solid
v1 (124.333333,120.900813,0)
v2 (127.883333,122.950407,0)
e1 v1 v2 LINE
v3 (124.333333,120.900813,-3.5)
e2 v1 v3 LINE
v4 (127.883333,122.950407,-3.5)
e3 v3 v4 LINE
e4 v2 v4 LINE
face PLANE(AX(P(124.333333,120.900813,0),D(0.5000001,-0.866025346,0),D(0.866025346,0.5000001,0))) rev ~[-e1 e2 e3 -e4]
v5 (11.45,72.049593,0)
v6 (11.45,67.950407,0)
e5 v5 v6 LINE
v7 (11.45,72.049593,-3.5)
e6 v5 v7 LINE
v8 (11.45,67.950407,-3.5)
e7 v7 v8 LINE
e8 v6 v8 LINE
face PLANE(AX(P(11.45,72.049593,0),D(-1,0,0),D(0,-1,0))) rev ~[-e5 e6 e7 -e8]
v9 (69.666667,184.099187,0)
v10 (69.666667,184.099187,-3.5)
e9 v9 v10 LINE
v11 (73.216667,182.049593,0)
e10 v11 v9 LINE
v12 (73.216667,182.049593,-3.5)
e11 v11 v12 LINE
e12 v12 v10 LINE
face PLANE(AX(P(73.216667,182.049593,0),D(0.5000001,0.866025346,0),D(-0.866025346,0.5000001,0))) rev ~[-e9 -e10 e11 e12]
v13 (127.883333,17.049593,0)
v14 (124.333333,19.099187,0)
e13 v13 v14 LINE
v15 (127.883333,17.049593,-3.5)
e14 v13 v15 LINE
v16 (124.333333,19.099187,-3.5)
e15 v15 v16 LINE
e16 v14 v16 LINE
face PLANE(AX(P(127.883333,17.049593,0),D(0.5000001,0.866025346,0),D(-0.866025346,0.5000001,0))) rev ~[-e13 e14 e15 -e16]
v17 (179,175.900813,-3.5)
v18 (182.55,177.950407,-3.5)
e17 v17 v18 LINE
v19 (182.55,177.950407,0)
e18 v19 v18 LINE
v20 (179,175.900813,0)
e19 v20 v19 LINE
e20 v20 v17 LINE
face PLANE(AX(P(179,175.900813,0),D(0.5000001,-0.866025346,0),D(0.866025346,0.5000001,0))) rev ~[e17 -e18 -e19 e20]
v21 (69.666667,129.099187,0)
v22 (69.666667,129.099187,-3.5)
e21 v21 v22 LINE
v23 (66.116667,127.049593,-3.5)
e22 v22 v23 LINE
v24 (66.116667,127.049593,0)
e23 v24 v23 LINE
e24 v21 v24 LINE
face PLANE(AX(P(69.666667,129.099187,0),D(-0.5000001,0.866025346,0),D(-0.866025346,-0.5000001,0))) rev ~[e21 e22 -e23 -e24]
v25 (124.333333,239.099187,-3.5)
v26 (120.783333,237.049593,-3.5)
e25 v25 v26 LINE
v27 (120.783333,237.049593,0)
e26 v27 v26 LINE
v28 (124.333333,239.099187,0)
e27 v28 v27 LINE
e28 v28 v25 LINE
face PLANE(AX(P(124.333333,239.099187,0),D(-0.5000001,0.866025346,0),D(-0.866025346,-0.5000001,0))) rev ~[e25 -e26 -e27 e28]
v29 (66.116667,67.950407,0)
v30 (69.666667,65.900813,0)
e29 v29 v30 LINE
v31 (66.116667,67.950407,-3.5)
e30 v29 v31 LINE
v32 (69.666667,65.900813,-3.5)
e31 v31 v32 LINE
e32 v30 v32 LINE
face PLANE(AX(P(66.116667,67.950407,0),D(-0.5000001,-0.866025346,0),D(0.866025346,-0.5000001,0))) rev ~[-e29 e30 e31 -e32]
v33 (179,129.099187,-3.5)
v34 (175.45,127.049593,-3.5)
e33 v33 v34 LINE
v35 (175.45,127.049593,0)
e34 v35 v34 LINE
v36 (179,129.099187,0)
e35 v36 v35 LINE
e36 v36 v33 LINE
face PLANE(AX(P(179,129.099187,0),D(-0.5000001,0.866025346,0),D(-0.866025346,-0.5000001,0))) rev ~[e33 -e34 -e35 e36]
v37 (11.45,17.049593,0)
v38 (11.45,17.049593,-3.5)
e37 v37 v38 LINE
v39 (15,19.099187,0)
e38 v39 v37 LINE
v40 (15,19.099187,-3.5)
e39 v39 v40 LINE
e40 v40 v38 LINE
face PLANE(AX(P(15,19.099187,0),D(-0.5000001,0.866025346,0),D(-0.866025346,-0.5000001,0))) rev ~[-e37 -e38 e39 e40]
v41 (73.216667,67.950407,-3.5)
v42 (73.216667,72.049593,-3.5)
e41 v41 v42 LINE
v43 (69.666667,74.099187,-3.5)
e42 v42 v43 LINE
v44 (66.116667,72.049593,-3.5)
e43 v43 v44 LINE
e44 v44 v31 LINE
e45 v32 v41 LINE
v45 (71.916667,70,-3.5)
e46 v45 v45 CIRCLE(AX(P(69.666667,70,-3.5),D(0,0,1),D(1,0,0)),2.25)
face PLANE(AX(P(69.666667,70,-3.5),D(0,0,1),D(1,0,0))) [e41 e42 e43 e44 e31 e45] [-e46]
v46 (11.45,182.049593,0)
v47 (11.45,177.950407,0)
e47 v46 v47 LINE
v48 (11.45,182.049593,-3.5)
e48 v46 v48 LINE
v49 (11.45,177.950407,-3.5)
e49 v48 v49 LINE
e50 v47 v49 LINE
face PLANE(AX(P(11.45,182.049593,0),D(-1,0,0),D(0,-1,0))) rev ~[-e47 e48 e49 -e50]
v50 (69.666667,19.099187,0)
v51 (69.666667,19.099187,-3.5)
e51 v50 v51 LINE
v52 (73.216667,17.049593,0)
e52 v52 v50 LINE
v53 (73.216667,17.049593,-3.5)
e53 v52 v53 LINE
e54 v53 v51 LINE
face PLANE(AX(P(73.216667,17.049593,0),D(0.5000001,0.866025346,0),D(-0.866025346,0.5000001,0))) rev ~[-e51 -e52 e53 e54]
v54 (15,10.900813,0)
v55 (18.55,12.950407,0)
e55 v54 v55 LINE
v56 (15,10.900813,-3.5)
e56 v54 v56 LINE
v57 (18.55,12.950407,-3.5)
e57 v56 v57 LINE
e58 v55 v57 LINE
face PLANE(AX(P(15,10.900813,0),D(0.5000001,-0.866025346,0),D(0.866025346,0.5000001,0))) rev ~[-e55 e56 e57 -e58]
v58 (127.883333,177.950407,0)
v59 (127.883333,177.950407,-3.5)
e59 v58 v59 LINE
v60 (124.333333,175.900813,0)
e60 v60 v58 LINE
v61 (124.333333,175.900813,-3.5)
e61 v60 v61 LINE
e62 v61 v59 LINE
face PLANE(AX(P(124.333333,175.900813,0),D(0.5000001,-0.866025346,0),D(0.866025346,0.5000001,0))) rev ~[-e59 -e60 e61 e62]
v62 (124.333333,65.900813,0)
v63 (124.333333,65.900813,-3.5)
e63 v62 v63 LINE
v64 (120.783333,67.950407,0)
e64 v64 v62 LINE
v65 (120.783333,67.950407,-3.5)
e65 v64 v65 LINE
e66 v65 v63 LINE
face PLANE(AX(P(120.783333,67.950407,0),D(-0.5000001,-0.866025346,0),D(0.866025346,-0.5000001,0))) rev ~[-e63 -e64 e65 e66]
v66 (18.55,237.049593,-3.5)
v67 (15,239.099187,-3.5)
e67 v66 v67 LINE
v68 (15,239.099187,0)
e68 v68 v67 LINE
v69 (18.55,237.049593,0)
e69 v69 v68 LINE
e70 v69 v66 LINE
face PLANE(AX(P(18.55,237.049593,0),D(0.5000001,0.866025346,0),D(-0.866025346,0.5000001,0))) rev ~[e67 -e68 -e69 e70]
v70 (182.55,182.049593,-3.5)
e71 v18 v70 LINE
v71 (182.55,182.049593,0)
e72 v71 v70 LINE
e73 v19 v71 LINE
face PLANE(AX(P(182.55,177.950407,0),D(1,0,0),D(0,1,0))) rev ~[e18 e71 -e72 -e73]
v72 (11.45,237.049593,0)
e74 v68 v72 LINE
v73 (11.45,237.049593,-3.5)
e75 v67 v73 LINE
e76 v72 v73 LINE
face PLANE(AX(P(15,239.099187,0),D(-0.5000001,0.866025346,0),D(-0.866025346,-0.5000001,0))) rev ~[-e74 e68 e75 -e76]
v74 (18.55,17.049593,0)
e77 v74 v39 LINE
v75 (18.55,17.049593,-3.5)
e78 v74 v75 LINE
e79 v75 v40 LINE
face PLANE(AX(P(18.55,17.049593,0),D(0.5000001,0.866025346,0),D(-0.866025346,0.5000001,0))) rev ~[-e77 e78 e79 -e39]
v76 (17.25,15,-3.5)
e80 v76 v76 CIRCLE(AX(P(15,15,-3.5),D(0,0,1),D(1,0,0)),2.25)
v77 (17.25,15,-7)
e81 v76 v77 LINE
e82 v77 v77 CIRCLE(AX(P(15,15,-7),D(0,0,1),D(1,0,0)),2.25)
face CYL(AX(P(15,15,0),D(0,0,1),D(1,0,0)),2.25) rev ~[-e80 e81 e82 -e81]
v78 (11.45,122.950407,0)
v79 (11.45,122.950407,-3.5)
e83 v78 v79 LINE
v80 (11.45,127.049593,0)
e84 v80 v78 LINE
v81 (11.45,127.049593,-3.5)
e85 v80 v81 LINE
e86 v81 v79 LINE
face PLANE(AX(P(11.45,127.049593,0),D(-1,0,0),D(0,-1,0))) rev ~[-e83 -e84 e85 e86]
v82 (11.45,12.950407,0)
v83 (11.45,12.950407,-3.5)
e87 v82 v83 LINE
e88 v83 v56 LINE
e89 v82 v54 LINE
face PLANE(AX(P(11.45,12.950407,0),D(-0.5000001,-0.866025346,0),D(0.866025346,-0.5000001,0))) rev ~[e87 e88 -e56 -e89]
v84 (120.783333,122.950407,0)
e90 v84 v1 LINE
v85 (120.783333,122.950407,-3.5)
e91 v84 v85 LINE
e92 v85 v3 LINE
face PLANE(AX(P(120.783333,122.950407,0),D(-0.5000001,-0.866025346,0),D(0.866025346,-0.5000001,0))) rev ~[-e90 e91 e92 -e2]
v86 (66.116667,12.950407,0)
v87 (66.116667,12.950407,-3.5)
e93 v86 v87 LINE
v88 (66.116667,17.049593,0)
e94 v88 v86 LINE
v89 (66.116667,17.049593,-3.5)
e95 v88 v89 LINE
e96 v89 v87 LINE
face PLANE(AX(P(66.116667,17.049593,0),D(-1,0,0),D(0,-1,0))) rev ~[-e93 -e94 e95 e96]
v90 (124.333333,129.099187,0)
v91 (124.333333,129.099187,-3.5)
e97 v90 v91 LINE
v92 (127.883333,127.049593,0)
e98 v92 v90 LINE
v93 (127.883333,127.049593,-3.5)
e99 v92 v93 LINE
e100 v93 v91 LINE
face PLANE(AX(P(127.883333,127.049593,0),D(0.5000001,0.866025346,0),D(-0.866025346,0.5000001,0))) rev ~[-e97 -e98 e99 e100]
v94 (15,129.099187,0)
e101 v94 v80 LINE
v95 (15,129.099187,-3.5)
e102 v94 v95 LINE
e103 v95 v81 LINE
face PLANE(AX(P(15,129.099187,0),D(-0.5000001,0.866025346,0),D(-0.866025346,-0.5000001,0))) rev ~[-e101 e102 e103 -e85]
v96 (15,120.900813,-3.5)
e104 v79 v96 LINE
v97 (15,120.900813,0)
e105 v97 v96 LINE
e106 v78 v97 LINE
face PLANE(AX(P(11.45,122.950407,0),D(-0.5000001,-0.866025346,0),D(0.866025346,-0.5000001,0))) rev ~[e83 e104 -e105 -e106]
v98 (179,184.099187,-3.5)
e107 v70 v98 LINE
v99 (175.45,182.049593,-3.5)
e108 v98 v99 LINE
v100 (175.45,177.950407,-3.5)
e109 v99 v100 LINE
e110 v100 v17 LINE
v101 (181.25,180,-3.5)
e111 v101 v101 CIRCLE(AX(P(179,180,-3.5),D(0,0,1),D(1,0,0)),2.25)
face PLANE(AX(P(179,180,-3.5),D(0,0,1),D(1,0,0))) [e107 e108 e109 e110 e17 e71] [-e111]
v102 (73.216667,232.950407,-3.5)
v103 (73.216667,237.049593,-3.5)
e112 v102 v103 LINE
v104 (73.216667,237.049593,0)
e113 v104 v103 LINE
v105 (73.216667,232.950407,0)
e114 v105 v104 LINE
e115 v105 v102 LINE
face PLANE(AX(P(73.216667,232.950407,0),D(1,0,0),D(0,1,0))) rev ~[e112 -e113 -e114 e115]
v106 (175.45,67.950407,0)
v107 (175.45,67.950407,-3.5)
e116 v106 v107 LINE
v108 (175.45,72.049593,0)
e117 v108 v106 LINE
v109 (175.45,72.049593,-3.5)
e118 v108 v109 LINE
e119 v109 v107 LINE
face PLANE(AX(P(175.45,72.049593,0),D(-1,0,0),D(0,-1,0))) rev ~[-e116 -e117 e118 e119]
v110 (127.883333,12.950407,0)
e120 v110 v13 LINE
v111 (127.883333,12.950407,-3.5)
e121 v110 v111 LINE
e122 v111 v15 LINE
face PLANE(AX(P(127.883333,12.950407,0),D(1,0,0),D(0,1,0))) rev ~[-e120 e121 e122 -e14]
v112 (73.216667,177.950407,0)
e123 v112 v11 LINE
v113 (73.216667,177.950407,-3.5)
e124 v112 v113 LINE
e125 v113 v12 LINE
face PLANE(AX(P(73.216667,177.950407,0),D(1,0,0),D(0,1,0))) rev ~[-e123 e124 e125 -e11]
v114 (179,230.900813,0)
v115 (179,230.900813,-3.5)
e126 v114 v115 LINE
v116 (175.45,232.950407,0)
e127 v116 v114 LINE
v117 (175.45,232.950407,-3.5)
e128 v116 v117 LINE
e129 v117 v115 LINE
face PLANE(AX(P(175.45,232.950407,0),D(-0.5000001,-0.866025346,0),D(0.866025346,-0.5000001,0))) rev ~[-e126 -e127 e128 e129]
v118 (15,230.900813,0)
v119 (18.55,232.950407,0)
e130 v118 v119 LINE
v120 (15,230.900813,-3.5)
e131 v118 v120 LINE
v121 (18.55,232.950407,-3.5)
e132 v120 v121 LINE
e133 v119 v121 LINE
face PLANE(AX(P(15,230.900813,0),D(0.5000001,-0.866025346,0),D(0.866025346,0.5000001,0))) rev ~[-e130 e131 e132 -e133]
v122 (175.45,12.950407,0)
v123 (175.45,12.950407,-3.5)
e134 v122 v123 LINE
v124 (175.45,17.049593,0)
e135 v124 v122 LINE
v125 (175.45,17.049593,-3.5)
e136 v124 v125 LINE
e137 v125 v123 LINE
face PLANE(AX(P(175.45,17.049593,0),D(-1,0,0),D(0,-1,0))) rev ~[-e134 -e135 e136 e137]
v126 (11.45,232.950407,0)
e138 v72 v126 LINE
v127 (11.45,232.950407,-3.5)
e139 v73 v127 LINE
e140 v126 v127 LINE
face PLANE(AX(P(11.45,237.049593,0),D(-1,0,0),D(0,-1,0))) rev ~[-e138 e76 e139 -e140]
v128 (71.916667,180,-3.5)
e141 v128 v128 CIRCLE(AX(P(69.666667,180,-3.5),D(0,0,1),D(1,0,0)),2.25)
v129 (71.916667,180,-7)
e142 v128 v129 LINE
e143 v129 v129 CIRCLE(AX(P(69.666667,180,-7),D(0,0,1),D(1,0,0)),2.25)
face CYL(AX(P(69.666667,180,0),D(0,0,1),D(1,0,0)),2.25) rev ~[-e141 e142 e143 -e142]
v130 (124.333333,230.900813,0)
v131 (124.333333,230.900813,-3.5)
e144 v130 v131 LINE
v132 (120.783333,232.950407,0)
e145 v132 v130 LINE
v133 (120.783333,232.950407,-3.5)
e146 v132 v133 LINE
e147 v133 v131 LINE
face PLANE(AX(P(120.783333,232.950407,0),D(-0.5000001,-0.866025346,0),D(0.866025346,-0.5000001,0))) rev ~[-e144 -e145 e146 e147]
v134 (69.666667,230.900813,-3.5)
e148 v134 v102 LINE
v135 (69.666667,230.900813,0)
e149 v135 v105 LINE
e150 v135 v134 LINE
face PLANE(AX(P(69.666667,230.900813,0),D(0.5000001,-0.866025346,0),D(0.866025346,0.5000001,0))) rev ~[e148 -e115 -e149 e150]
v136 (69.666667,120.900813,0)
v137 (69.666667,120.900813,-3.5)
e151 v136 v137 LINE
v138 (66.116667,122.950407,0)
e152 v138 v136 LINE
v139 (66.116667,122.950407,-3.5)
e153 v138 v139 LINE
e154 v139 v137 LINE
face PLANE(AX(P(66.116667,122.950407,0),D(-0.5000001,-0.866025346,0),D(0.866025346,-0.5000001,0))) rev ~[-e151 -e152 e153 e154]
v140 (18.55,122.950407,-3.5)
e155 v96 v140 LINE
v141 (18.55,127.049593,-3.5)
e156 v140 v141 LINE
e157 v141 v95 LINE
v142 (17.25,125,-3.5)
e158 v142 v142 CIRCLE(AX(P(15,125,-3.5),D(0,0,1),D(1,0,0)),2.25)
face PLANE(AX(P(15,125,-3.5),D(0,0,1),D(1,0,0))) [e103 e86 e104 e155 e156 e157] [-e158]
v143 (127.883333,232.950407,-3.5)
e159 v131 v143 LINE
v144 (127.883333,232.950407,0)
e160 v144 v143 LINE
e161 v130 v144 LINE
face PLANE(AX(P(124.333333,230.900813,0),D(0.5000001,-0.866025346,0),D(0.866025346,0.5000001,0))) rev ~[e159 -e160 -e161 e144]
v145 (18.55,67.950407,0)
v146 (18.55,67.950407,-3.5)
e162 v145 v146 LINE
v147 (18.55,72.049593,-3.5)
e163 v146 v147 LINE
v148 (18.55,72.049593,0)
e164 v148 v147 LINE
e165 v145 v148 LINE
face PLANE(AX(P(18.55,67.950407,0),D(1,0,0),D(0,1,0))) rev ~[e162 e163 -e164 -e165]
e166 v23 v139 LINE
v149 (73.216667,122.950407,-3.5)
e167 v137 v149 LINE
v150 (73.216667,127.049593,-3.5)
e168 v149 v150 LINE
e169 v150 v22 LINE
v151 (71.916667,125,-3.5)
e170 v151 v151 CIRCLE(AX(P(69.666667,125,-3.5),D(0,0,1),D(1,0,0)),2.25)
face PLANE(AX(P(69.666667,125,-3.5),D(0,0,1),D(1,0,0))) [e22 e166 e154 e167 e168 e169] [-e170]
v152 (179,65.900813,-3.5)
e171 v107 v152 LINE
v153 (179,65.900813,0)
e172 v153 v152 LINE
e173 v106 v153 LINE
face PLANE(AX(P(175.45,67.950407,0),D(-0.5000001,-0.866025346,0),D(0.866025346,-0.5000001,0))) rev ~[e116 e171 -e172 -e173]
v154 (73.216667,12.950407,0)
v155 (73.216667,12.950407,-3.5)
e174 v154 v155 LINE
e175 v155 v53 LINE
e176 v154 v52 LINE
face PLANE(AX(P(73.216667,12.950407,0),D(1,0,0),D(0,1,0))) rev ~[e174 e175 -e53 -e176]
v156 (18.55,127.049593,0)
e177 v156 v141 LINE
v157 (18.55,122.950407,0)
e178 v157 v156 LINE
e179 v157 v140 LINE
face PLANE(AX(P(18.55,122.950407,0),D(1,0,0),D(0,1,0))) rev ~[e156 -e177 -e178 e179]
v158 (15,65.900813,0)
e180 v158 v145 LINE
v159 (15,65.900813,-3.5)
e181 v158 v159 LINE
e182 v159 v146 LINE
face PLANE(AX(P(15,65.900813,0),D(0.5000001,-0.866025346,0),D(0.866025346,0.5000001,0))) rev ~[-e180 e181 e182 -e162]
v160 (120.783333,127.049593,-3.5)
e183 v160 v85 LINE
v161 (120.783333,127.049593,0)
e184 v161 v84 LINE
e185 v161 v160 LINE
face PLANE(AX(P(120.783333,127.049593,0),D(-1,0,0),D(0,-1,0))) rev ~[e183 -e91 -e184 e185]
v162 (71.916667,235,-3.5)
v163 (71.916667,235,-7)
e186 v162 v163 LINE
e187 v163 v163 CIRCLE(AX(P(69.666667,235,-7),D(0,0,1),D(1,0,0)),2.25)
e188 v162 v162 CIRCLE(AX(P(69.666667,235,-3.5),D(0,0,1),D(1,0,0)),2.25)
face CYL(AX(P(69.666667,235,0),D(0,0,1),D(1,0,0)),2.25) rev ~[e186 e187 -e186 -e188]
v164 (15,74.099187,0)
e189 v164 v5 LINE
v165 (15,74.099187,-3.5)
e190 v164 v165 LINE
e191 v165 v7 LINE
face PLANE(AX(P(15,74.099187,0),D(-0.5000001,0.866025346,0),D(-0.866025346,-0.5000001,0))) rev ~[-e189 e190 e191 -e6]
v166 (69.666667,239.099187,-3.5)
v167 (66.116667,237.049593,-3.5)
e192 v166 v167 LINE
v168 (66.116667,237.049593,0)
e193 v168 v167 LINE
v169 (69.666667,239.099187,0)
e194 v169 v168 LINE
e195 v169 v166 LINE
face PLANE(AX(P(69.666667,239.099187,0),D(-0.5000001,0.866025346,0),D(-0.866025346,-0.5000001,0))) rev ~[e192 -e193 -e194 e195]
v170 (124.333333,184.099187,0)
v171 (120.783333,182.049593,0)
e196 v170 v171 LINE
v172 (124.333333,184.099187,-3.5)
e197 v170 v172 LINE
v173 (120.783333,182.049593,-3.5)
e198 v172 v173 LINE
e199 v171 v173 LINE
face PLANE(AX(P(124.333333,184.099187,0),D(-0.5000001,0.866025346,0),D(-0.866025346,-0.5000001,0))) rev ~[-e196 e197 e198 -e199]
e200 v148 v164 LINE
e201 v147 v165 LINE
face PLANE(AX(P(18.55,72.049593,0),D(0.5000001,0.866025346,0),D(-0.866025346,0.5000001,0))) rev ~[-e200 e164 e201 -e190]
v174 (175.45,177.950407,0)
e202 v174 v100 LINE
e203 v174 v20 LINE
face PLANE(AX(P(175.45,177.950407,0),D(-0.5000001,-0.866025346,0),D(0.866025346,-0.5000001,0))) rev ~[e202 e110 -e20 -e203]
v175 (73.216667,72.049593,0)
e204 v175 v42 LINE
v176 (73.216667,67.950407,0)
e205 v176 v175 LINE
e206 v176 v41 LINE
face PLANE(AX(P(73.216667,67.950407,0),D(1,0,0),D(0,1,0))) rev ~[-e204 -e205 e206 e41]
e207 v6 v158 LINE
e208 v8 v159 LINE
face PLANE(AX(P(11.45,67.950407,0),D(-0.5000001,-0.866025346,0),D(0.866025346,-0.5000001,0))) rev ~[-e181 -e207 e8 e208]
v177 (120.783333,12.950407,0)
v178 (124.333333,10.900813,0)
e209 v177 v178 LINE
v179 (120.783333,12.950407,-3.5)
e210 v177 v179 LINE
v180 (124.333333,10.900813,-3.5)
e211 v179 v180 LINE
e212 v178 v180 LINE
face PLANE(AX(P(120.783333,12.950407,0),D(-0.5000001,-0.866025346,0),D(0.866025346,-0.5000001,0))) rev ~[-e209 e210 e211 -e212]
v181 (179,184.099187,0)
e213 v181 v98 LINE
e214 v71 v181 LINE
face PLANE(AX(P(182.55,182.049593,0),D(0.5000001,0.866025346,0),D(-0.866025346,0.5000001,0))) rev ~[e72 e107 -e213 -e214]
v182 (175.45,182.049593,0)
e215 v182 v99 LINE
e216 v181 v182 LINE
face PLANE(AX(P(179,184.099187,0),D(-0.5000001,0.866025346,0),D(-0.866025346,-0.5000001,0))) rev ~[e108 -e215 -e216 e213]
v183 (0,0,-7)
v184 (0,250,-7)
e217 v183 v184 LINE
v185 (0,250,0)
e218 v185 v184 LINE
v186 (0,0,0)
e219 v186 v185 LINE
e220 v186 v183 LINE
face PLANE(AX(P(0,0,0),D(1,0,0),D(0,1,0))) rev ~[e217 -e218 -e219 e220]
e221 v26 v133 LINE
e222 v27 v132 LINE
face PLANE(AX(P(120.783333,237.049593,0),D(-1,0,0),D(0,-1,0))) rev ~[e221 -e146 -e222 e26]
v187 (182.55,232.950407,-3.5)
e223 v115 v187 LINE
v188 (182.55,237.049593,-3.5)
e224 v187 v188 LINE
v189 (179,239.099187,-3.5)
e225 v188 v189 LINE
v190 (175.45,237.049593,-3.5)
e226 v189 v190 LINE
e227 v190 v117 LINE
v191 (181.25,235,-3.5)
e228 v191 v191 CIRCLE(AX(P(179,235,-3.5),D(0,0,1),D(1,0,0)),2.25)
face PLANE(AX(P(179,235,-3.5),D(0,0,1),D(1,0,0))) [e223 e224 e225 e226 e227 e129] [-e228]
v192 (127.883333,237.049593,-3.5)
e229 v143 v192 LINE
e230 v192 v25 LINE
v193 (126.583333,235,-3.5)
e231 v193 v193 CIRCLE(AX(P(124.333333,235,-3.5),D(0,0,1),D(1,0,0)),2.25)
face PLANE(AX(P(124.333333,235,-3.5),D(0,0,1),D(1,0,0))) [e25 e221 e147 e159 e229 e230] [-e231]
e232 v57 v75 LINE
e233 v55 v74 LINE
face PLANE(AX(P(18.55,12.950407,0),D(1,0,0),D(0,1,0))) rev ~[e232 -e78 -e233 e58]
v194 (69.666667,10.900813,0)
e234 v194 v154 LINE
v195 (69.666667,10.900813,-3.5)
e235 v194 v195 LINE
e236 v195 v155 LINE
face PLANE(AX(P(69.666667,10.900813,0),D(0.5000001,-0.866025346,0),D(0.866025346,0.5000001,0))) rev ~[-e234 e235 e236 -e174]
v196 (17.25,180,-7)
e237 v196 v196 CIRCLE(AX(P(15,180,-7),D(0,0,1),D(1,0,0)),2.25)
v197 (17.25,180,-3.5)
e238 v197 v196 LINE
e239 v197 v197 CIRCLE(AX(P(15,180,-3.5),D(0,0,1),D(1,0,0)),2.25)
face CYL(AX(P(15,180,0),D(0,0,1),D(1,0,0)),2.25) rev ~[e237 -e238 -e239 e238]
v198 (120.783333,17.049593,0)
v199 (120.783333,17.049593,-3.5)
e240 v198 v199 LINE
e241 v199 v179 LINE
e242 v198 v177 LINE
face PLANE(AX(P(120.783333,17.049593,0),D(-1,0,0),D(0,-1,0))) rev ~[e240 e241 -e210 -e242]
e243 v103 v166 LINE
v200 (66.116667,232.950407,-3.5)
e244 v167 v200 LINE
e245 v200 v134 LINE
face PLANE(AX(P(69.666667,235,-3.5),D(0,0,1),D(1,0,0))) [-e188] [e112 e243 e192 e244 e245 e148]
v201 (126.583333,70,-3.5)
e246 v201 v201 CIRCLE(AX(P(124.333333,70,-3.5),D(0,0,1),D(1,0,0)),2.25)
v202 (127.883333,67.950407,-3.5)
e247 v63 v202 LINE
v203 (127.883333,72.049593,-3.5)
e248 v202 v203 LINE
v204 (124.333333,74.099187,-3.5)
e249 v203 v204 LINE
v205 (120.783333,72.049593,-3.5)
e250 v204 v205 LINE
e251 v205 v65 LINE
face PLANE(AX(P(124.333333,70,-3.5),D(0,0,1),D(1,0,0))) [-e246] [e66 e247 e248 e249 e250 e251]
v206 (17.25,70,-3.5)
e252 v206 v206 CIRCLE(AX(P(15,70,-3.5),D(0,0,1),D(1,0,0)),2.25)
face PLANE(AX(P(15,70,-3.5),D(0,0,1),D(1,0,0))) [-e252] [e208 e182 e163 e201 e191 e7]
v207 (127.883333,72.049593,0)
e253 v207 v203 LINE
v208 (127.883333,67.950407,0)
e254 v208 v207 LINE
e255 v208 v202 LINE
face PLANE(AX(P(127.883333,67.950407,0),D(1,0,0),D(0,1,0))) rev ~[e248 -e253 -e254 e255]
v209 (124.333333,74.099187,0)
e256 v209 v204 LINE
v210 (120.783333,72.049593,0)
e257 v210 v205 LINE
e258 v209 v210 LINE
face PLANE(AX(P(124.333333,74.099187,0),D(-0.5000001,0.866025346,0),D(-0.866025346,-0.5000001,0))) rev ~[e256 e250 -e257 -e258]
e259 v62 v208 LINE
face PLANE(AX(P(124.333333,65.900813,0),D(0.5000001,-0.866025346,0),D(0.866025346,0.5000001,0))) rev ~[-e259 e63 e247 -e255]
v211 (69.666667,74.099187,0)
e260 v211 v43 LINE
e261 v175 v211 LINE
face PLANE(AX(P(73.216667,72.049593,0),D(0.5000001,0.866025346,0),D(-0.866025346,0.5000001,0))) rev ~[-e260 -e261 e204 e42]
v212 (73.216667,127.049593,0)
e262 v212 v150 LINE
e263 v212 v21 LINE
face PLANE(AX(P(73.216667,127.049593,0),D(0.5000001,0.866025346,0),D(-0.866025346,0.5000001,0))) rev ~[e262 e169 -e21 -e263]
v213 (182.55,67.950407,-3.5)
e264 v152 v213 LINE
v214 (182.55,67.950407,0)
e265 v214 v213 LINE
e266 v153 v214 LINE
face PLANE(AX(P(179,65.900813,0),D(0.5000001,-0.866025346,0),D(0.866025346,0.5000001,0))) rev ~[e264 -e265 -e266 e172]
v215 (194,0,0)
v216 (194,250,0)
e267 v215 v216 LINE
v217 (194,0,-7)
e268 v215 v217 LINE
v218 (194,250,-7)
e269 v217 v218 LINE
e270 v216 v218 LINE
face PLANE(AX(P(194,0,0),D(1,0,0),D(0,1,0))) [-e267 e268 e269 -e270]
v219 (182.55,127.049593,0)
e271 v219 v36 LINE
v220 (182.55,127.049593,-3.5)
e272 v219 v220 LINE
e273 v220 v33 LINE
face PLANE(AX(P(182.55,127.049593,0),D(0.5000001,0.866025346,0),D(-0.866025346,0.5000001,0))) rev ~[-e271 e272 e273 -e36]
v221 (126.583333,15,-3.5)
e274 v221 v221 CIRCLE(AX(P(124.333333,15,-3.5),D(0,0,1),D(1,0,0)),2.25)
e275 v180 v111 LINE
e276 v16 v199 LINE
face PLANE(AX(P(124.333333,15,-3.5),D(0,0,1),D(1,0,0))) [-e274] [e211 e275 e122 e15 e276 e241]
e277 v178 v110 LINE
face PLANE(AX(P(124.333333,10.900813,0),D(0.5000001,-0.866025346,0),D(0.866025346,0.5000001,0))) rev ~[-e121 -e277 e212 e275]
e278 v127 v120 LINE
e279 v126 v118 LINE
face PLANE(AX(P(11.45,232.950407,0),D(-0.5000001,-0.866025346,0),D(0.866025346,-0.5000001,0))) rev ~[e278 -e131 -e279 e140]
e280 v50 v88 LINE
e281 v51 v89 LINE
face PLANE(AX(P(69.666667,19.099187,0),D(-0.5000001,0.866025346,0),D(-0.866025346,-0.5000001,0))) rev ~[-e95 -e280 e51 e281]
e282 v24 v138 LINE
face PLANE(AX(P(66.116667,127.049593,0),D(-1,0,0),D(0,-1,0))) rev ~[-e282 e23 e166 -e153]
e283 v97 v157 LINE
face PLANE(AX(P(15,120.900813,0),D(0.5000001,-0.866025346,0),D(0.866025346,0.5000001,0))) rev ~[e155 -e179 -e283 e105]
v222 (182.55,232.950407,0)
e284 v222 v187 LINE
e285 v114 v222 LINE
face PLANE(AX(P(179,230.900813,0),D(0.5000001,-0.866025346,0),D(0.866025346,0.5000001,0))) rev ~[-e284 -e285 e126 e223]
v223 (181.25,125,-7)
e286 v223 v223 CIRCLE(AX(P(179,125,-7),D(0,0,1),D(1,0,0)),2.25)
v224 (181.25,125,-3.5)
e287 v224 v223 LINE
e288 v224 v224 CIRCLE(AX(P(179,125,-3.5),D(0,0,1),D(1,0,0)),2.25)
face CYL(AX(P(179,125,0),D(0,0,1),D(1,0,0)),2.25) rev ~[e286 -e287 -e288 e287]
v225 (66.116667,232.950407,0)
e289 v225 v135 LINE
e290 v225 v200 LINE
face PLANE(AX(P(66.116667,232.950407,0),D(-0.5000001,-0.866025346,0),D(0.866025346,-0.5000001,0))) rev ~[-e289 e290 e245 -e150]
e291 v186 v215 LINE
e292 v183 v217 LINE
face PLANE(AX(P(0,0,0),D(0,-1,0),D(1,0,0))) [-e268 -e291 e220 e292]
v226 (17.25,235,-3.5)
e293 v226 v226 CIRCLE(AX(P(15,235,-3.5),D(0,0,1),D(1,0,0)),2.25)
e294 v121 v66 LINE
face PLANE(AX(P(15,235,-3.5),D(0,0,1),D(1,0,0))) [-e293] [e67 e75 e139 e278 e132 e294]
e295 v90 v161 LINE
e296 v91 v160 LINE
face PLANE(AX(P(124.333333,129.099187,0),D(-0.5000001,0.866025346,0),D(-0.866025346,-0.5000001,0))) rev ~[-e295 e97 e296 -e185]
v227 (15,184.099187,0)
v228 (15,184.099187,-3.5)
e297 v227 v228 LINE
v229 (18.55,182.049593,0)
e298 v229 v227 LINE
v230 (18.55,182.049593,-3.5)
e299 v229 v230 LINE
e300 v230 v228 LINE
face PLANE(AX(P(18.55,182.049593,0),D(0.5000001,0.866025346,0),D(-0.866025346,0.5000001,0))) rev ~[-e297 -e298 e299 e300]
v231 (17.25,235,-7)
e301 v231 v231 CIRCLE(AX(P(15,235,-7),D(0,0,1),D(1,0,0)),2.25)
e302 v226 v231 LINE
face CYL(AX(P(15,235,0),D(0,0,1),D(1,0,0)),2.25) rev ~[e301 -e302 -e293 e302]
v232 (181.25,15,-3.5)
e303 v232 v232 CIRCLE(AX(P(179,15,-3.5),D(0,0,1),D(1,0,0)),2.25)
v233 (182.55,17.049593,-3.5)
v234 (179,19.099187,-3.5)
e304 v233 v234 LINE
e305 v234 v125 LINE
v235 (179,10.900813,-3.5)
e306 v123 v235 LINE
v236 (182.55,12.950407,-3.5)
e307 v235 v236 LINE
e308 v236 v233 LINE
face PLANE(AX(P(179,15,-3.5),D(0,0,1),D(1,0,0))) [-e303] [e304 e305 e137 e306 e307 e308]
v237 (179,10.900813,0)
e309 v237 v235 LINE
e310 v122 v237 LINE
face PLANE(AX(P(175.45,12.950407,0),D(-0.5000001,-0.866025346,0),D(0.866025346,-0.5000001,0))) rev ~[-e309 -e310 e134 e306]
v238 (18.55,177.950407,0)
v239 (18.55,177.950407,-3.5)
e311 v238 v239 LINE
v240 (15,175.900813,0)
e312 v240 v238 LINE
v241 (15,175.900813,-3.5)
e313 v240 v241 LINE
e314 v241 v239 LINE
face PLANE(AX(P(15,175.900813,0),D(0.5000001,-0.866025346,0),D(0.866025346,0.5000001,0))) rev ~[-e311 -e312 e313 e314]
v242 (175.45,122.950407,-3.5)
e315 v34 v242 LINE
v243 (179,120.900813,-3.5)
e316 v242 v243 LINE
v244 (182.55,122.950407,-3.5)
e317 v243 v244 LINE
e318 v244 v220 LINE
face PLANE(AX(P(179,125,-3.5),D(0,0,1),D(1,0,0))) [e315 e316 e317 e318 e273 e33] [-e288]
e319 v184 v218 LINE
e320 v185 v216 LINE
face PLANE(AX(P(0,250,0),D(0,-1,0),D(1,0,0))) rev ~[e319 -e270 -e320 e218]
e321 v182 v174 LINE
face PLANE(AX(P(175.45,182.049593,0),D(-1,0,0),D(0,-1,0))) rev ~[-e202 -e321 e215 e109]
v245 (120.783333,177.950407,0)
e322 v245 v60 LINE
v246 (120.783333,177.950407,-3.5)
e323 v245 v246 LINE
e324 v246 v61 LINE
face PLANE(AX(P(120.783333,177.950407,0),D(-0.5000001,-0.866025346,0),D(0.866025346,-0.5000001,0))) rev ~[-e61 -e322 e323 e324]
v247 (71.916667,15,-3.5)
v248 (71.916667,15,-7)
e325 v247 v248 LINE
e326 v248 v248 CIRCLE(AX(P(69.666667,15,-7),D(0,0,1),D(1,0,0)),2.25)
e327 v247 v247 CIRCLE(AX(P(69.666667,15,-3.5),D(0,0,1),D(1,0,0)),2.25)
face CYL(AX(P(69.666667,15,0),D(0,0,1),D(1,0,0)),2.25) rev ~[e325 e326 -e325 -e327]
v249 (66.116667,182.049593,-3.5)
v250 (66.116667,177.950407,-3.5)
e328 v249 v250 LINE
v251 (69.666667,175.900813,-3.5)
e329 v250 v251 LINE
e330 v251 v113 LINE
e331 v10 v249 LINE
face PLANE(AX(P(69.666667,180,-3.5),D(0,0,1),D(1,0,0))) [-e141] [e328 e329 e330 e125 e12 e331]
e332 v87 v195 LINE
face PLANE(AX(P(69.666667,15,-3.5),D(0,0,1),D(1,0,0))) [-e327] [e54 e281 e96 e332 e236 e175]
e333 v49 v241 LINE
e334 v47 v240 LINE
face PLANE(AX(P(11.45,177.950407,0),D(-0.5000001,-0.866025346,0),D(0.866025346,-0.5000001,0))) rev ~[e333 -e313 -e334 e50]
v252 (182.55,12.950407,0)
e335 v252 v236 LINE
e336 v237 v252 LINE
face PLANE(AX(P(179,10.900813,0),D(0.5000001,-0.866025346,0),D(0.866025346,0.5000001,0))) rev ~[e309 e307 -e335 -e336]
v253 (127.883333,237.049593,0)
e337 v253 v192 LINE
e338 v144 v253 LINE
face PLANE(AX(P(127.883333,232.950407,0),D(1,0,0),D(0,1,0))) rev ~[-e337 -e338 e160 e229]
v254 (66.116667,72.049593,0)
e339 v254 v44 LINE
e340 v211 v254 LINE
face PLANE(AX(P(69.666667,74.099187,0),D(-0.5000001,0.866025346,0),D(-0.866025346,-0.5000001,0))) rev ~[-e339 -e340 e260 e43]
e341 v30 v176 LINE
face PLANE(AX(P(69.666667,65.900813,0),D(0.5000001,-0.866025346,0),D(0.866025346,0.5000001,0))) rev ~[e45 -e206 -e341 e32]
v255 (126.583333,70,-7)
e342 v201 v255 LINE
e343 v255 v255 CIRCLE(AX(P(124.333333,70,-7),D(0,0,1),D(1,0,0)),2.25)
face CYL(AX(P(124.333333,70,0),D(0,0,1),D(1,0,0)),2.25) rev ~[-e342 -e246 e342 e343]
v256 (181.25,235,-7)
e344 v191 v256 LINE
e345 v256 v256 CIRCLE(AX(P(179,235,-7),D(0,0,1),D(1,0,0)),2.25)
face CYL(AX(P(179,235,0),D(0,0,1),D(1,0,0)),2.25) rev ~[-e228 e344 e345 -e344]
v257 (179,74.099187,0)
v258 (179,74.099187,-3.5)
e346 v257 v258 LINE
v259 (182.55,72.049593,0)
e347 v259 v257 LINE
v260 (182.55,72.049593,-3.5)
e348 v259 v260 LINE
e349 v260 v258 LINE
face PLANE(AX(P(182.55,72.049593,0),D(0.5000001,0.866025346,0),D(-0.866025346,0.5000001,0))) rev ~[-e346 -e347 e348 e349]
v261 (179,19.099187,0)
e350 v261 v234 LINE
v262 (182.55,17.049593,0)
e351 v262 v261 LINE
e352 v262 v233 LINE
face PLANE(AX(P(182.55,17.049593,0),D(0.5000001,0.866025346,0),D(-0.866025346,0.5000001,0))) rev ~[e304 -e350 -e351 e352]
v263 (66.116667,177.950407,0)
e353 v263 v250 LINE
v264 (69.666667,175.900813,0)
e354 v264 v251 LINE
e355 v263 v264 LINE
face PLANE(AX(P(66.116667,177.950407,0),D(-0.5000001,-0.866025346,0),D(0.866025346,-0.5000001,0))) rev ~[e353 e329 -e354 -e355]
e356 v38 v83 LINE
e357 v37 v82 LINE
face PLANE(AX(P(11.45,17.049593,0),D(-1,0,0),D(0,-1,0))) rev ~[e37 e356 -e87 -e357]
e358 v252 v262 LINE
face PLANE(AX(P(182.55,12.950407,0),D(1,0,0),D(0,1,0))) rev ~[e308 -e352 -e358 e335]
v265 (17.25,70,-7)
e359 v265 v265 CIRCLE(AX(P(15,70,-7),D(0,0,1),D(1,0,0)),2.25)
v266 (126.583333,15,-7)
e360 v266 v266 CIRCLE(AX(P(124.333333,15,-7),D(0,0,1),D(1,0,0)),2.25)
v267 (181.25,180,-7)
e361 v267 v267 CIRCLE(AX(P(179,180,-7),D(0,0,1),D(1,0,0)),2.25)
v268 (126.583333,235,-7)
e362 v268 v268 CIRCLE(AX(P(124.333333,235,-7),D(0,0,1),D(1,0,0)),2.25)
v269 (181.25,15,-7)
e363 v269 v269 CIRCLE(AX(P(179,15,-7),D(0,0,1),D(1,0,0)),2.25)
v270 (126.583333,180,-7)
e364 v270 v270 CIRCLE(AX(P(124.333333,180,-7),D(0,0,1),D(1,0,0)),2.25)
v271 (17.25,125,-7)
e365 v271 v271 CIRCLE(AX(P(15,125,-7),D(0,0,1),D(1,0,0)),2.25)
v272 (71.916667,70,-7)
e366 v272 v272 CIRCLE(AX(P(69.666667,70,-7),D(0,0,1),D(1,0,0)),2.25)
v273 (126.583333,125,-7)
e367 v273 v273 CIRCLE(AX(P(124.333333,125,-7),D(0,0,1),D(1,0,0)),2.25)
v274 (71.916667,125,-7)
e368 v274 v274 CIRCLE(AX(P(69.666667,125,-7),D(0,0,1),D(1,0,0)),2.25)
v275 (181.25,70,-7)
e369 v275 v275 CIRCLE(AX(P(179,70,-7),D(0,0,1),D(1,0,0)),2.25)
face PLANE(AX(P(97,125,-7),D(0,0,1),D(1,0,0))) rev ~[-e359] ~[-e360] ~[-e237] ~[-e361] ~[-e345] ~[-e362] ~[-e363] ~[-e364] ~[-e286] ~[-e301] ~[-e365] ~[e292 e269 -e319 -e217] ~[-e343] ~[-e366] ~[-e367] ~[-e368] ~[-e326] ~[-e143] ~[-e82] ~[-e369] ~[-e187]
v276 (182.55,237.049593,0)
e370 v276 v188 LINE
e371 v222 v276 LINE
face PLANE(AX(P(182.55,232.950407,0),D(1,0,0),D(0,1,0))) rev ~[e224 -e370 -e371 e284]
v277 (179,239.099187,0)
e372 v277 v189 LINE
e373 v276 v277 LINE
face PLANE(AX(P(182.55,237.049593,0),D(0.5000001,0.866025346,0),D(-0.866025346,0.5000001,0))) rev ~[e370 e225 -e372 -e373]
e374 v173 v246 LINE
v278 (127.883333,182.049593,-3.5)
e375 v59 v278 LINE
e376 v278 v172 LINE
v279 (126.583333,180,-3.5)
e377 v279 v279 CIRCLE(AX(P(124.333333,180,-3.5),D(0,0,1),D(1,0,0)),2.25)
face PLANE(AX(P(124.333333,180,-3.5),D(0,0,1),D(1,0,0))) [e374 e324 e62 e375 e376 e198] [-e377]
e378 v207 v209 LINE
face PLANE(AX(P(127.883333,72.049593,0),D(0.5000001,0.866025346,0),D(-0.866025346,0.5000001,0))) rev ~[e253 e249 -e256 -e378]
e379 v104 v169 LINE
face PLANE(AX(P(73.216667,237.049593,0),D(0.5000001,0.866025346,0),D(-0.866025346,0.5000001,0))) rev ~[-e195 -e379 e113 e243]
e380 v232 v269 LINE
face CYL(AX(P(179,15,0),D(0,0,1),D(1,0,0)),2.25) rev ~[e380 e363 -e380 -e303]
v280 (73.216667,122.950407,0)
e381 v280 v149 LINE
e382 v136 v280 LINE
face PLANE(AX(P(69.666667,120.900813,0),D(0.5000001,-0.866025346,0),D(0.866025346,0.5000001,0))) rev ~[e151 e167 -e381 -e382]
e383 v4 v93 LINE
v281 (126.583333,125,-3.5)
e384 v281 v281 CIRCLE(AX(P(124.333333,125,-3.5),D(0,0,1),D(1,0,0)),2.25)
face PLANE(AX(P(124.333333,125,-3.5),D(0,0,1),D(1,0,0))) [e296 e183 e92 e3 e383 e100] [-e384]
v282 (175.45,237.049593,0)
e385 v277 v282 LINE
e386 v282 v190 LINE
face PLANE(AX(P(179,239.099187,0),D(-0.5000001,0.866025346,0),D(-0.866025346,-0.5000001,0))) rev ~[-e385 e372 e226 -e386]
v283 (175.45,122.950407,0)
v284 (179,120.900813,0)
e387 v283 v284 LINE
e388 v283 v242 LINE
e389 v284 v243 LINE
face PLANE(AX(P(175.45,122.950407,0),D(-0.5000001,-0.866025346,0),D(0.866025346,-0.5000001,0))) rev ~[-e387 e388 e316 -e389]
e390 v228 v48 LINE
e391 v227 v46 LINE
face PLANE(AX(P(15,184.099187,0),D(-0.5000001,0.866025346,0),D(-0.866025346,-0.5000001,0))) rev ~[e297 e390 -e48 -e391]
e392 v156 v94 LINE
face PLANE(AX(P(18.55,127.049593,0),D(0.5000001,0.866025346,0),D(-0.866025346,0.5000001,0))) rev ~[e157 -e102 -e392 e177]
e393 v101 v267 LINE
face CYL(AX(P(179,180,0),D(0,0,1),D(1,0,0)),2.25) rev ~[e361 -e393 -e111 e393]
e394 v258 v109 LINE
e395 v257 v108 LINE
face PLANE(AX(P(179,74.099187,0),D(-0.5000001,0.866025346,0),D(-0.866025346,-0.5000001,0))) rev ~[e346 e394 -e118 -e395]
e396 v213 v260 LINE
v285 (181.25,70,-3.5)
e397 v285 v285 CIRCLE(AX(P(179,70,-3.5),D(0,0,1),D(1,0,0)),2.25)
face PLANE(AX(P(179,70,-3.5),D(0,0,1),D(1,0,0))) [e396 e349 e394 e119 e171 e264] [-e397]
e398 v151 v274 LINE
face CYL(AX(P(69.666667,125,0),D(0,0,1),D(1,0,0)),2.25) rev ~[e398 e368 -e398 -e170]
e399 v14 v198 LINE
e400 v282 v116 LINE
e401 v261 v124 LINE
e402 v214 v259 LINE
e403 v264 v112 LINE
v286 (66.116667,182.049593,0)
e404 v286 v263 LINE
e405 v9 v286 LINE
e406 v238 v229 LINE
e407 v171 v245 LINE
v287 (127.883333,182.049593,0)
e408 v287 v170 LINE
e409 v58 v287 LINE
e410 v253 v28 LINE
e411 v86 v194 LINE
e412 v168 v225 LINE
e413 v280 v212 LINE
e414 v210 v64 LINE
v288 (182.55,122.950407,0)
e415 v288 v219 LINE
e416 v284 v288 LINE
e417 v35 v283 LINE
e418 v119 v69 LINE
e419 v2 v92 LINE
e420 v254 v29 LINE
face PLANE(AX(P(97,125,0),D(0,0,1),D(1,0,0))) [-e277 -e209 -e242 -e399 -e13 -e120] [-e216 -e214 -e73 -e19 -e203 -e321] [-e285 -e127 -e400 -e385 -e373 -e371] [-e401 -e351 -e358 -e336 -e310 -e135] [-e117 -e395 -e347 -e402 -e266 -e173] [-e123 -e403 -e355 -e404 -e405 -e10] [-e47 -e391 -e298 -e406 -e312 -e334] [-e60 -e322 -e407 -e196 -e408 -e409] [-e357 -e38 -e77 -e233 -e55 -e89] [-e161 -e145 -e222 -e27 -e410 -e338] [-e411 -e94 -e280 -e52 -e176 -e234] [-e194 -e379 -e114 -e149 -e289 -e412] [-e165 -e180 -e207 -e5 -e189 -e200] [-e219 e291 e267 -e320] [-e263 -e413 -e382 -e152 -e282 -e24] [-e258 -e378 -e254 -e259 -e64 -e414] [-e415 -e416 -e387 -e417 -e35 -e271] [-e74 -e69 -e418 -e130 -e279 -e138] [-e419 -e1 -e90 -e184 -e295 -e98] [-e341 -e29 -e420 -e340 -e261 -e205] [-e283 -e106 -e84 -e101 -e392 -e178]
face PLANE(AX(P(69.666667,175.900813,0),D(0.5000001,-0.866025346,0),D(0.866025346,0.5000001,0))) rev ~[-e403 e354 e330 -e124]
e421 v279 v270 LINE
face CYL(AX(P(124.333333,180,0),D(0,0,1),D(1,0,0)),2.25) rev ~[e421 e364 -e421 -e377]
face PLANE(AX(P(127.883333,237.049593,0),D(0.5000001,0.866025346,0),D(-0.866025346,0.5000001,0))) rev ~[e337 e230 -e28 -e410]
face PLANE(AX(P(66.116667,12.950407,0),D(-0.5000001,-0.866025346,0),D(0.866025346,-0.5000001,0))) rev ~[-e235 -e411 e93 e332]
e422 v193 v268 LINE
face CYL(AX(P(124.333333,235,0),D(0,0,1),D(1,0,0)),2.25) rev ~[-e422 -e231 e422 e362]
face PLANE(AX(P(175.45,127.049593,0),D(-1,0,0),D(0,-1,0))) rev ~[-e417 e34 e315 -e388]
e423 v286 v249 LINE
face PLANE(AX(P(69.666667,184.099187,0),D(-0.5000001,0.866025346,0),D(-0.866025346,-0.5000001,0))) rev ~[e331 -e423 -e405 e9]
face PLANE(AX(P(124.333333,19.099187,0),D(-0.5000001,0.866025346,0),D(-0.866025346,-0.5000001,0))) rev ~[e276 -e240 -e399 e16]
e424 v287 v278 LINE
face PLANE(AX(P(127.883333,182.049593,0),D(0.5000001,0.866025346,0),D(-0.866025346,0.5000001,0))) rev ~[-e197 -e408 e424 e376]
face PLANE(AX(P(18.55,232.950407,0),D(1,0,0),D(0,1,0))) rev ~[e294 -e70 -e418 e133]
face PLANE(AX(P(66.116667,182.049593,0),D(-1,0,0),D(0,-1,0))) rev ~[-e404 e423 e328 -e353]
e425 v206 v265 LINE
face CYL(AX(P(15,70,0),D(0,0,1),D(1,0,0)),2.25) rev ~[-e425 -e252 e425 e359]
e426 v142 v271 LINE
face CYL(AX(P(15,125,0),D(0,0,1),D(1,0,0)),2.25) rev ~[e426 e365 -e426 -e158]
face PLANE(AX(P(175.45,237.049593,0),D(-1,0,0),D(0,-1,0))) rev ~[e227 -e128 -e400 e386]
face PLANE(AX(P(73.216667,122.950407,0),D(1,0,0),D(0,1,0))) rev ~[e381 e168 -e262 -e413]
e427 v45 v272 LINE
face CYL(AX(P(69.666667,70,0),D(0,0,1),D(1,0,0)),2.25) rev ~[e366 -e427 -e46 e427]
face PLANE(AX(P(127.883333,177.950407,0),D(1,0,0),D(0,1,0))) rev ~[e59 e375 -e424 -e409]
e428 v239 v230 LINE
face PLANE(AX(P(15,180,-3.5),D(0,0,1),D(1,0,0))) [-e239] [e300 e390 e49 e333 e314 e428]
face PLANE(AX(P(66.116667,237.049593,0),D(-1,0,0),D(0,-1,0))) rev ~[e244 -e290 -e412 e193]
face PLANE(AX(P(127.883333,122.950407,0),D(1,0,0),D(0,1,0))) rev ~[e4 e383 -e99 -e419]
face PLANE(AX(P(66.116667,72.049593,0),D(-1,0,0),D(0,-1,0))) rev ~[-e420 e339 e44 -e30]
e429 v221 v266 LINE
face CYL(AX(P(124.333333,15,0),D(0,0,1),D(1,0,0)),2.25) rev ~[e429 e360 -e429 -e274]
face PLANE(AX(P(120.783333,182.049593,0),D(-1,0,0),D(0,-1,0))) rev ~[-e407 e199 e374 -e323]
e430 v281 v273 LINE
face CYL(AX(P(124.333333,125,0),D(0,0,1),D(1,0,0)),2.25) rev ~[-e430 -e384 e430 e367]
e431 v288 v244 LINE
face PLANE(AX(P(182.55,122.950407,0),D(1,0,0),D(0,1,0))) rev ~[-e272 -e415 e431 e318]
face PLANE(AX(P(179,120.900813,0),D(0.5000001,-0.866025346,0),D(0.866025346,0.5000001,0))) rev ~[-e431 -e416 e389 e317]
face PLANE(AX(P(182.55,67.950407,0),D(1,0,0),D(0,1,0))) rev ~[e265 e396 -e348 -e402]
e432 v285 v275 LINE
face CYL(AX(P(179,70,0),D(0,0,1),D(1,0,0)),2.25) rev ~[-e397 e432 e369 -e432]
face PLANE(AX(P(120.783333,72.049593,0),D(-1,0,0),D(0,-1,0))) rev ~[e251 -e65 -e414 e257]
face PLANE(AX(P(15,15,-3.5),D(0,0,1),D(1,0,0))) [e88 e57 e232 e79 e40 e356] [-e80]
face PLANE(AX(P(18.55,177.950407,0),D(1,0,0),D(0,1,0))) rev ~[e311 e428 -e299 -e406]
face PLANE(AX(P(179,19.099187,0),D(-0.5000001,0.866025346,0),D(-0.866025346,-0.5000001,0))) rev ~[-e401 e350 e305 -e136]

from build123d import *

# Parameters (mm, degrees)
SKETCH_W                     = 194
SKETCH_H                     = 250
PAD_DEPTH                    = 7
POCKET_DEPTH                 = 3.5
SKETCH002_R                  = 2.25
HOLE_DEPTH                   = 640.041283
POCKET_LINEARPATTERN_2_DEPTH = 3.5
SKETCH002_LINEARPATTERN_2_R  = 2.25
HOLE_LINEARPATTERN_2_DEPTH   = 640.041283
POCKET_LINEARPATTERN_3_DEPTH = 3.5
SKETCH002_LINEARPATTERN_3_R  = 2.25
HOLE_LINEARPATTERN_3_DEPTH   = 640.041283
POCKET_LINEARPATTERN_4_DEPTH = 3.5
SKETCH002_LINEARPATTERN_4_R  = 2.25
HOLE_LINEARPATTERN_4_DEPTH   = 640.041283
LINEARPATTERN001_COUNT       = 5
LINEARPATTERN001_PITCH       = 55


with BuildPart() as part:
    # Sketch → Pad (new body)
    with BuildSketch(Plane.XY):
        with Locations((97, 125)):
            Rectangle(SKETCH_W, SKETCH_H)
    extrude(amount=-PAD_DEPTH)

    # Sketch001 → Pocket (cut)
    with BuildSketch(Plane.XY):
        Polygon((15, 10.900813), (18.55, 12.950407), (18.55, 17.049593), (15, 19.099187), (11.45, 17.049593), (11.45, 12.950407), align=None)
    pocket = extrude(amount=-POCKET_DEPTH, mode=Mode.SUBTRACT)

    # Sketch002 → Hole (cut, through all)
    with BuildSketch(Plane.XY):
        with Locations((15, 15)):
            Circle(SKETCH002_R)
    hole = extrude(amount=-HOLE_DEPTH, mode=Mode.SUBTRACT)

    # Sketch001 LinearPattern 2 → Pocket LinearPattern 2 (cut)
    with BuildSketch(Plane(origin=(54.666667, 0, 0), x_dir=(1, 0, 0), z_dir=(0, 0, 1))):
        Polygon((15, 10.900813), (18.55, 12.950407), (18.55, 17.049593), (15, 19.099187), (11.45, 17.049593), (11.45, 12.950407), align=None)
    pocket_linearpattern_2 = extrude(amount=-POCKET_LINEARPATTERN_2_DEPTH, mode=Mode.SUBTRACT)

    # Sketch002 LinearPattern 2 → Hole LinearPattern 2 (cut, through all)
    with BuildSketch(Plane(origin=(54.666667, 0, 0), x_dir=(1, 0, 0), z_dir=(0, 0, 1))):
        with Locations((15, 15)):
            Circle(SKETCH002_LINEARPATTERN_2_R)
    hole_linearpattern_2 = extrude(amount=-HOLE_LINEARPATTERN_2_DEPTH, mode=Mode.SUBTRACT)

    # Sketch001 LinearPattern 3 → Pocket LinearPattern 3 (cut)
    with BuildSketch(Plane(origin=(109.333333, 0, 0), x_dir=(1, 0, 0), z_dir=(0, 0, 1))):
        Polygon((15, 10.900813), (18.55, 12.950407), (18.55, 17.049593), (15, 19.099187), (11.45, 17.049593), (11.45, 12.950407), align=None)
    pocket_linearpattern_3 = extrude(amount=-POCKET_LINEARPATTERN_3_DEPTH, mode=Mode.SUBTRACT)

    # Sketch002 LinearPattern 3 → Hole LinearPattern 3 (cut, through all)
    with BuildSketch(Plane(origin=(109.333333, 0, 0), x_dir=(1, 0, 0), z_dir=(0, 0, 1))):
        with Locations((15, 15)):
            Circle(SKETCH002_LINEARPATTERN_3_R)
    hole_linearpattern_3 = extrude(amount=-HOLE_LINEARPATTERN_3_DEPTH, mode=Mode.SUBTRACT)

    # Sketch001 LinearPattern 4 → Pocket LinearPattern 4 (cut)
    with BuildSketch(Plane(origin=(164, 0, 0), x_dir=(1, 0, 0), z_dir=(0, 0, 1))):
        Polygon((15, 10.900813), (18.55, 12.950407), (18.55, 17.049593), (15, 19.099187), (11.45, 17.049593), (11.45, 12.950407), align=None)
    pocket_linearpattern_4 = extrude(amount=-POCKET_LINEARPATTERN_4_DEPTH, mode=Mode.SUBTRACT)

    # Sketch002 LinearPattern 4 → Hole LinearPattern 4 (cut, through all)
    with BuildSketch(Plane(origin=(164, 0, 0), x_dir=(1, 0, 0), z_dir=(0, 0, 1))):
        with Locations((15, 15)):
            Circle(SKETCH002_LINEARPATTERN_4_R)
    hole_linearpattern_4 = extrude(amount=-HOLE_LINEARPATTERN_4_DEPTH, mode=Mode.SUBTRACT)

    # LinearPattern001: Pocket, Hole, Pocket LinearPattern 2, Hole LinearPattern 2, Pocket LinearPattern 3, Hole LinearPattern 3, Pocket LinearPattern 4, Hole LinearPattern 4 ×5
    with Locations(*[(0, i * LINEARPATTERN001_PITCH, 0) for i in range(1, LINEARPATTERN001_COUNT)]):
        add(pocket, mode=Mode.SUBTRACT)
        add(hole, mode=Mode.SUBTRACT)
        add(pocket_linearpattern_2, mode=Mode.SUBTRACT)
        add(hole_linearpattern_2, mode=Mode.SUBTRACT)
        add(pocket_linearpattern_3, mode=Mode.SUBTRACT)
        add(hole_linearpattern_3, mode=Mode.SUBTRACT)
        add(pocket_linearpattern_4, mode=Mode.SUBTRACT)
        add(hole_linearpattern_4, mode=Mode.SUBTRACT)


solid = part.part
